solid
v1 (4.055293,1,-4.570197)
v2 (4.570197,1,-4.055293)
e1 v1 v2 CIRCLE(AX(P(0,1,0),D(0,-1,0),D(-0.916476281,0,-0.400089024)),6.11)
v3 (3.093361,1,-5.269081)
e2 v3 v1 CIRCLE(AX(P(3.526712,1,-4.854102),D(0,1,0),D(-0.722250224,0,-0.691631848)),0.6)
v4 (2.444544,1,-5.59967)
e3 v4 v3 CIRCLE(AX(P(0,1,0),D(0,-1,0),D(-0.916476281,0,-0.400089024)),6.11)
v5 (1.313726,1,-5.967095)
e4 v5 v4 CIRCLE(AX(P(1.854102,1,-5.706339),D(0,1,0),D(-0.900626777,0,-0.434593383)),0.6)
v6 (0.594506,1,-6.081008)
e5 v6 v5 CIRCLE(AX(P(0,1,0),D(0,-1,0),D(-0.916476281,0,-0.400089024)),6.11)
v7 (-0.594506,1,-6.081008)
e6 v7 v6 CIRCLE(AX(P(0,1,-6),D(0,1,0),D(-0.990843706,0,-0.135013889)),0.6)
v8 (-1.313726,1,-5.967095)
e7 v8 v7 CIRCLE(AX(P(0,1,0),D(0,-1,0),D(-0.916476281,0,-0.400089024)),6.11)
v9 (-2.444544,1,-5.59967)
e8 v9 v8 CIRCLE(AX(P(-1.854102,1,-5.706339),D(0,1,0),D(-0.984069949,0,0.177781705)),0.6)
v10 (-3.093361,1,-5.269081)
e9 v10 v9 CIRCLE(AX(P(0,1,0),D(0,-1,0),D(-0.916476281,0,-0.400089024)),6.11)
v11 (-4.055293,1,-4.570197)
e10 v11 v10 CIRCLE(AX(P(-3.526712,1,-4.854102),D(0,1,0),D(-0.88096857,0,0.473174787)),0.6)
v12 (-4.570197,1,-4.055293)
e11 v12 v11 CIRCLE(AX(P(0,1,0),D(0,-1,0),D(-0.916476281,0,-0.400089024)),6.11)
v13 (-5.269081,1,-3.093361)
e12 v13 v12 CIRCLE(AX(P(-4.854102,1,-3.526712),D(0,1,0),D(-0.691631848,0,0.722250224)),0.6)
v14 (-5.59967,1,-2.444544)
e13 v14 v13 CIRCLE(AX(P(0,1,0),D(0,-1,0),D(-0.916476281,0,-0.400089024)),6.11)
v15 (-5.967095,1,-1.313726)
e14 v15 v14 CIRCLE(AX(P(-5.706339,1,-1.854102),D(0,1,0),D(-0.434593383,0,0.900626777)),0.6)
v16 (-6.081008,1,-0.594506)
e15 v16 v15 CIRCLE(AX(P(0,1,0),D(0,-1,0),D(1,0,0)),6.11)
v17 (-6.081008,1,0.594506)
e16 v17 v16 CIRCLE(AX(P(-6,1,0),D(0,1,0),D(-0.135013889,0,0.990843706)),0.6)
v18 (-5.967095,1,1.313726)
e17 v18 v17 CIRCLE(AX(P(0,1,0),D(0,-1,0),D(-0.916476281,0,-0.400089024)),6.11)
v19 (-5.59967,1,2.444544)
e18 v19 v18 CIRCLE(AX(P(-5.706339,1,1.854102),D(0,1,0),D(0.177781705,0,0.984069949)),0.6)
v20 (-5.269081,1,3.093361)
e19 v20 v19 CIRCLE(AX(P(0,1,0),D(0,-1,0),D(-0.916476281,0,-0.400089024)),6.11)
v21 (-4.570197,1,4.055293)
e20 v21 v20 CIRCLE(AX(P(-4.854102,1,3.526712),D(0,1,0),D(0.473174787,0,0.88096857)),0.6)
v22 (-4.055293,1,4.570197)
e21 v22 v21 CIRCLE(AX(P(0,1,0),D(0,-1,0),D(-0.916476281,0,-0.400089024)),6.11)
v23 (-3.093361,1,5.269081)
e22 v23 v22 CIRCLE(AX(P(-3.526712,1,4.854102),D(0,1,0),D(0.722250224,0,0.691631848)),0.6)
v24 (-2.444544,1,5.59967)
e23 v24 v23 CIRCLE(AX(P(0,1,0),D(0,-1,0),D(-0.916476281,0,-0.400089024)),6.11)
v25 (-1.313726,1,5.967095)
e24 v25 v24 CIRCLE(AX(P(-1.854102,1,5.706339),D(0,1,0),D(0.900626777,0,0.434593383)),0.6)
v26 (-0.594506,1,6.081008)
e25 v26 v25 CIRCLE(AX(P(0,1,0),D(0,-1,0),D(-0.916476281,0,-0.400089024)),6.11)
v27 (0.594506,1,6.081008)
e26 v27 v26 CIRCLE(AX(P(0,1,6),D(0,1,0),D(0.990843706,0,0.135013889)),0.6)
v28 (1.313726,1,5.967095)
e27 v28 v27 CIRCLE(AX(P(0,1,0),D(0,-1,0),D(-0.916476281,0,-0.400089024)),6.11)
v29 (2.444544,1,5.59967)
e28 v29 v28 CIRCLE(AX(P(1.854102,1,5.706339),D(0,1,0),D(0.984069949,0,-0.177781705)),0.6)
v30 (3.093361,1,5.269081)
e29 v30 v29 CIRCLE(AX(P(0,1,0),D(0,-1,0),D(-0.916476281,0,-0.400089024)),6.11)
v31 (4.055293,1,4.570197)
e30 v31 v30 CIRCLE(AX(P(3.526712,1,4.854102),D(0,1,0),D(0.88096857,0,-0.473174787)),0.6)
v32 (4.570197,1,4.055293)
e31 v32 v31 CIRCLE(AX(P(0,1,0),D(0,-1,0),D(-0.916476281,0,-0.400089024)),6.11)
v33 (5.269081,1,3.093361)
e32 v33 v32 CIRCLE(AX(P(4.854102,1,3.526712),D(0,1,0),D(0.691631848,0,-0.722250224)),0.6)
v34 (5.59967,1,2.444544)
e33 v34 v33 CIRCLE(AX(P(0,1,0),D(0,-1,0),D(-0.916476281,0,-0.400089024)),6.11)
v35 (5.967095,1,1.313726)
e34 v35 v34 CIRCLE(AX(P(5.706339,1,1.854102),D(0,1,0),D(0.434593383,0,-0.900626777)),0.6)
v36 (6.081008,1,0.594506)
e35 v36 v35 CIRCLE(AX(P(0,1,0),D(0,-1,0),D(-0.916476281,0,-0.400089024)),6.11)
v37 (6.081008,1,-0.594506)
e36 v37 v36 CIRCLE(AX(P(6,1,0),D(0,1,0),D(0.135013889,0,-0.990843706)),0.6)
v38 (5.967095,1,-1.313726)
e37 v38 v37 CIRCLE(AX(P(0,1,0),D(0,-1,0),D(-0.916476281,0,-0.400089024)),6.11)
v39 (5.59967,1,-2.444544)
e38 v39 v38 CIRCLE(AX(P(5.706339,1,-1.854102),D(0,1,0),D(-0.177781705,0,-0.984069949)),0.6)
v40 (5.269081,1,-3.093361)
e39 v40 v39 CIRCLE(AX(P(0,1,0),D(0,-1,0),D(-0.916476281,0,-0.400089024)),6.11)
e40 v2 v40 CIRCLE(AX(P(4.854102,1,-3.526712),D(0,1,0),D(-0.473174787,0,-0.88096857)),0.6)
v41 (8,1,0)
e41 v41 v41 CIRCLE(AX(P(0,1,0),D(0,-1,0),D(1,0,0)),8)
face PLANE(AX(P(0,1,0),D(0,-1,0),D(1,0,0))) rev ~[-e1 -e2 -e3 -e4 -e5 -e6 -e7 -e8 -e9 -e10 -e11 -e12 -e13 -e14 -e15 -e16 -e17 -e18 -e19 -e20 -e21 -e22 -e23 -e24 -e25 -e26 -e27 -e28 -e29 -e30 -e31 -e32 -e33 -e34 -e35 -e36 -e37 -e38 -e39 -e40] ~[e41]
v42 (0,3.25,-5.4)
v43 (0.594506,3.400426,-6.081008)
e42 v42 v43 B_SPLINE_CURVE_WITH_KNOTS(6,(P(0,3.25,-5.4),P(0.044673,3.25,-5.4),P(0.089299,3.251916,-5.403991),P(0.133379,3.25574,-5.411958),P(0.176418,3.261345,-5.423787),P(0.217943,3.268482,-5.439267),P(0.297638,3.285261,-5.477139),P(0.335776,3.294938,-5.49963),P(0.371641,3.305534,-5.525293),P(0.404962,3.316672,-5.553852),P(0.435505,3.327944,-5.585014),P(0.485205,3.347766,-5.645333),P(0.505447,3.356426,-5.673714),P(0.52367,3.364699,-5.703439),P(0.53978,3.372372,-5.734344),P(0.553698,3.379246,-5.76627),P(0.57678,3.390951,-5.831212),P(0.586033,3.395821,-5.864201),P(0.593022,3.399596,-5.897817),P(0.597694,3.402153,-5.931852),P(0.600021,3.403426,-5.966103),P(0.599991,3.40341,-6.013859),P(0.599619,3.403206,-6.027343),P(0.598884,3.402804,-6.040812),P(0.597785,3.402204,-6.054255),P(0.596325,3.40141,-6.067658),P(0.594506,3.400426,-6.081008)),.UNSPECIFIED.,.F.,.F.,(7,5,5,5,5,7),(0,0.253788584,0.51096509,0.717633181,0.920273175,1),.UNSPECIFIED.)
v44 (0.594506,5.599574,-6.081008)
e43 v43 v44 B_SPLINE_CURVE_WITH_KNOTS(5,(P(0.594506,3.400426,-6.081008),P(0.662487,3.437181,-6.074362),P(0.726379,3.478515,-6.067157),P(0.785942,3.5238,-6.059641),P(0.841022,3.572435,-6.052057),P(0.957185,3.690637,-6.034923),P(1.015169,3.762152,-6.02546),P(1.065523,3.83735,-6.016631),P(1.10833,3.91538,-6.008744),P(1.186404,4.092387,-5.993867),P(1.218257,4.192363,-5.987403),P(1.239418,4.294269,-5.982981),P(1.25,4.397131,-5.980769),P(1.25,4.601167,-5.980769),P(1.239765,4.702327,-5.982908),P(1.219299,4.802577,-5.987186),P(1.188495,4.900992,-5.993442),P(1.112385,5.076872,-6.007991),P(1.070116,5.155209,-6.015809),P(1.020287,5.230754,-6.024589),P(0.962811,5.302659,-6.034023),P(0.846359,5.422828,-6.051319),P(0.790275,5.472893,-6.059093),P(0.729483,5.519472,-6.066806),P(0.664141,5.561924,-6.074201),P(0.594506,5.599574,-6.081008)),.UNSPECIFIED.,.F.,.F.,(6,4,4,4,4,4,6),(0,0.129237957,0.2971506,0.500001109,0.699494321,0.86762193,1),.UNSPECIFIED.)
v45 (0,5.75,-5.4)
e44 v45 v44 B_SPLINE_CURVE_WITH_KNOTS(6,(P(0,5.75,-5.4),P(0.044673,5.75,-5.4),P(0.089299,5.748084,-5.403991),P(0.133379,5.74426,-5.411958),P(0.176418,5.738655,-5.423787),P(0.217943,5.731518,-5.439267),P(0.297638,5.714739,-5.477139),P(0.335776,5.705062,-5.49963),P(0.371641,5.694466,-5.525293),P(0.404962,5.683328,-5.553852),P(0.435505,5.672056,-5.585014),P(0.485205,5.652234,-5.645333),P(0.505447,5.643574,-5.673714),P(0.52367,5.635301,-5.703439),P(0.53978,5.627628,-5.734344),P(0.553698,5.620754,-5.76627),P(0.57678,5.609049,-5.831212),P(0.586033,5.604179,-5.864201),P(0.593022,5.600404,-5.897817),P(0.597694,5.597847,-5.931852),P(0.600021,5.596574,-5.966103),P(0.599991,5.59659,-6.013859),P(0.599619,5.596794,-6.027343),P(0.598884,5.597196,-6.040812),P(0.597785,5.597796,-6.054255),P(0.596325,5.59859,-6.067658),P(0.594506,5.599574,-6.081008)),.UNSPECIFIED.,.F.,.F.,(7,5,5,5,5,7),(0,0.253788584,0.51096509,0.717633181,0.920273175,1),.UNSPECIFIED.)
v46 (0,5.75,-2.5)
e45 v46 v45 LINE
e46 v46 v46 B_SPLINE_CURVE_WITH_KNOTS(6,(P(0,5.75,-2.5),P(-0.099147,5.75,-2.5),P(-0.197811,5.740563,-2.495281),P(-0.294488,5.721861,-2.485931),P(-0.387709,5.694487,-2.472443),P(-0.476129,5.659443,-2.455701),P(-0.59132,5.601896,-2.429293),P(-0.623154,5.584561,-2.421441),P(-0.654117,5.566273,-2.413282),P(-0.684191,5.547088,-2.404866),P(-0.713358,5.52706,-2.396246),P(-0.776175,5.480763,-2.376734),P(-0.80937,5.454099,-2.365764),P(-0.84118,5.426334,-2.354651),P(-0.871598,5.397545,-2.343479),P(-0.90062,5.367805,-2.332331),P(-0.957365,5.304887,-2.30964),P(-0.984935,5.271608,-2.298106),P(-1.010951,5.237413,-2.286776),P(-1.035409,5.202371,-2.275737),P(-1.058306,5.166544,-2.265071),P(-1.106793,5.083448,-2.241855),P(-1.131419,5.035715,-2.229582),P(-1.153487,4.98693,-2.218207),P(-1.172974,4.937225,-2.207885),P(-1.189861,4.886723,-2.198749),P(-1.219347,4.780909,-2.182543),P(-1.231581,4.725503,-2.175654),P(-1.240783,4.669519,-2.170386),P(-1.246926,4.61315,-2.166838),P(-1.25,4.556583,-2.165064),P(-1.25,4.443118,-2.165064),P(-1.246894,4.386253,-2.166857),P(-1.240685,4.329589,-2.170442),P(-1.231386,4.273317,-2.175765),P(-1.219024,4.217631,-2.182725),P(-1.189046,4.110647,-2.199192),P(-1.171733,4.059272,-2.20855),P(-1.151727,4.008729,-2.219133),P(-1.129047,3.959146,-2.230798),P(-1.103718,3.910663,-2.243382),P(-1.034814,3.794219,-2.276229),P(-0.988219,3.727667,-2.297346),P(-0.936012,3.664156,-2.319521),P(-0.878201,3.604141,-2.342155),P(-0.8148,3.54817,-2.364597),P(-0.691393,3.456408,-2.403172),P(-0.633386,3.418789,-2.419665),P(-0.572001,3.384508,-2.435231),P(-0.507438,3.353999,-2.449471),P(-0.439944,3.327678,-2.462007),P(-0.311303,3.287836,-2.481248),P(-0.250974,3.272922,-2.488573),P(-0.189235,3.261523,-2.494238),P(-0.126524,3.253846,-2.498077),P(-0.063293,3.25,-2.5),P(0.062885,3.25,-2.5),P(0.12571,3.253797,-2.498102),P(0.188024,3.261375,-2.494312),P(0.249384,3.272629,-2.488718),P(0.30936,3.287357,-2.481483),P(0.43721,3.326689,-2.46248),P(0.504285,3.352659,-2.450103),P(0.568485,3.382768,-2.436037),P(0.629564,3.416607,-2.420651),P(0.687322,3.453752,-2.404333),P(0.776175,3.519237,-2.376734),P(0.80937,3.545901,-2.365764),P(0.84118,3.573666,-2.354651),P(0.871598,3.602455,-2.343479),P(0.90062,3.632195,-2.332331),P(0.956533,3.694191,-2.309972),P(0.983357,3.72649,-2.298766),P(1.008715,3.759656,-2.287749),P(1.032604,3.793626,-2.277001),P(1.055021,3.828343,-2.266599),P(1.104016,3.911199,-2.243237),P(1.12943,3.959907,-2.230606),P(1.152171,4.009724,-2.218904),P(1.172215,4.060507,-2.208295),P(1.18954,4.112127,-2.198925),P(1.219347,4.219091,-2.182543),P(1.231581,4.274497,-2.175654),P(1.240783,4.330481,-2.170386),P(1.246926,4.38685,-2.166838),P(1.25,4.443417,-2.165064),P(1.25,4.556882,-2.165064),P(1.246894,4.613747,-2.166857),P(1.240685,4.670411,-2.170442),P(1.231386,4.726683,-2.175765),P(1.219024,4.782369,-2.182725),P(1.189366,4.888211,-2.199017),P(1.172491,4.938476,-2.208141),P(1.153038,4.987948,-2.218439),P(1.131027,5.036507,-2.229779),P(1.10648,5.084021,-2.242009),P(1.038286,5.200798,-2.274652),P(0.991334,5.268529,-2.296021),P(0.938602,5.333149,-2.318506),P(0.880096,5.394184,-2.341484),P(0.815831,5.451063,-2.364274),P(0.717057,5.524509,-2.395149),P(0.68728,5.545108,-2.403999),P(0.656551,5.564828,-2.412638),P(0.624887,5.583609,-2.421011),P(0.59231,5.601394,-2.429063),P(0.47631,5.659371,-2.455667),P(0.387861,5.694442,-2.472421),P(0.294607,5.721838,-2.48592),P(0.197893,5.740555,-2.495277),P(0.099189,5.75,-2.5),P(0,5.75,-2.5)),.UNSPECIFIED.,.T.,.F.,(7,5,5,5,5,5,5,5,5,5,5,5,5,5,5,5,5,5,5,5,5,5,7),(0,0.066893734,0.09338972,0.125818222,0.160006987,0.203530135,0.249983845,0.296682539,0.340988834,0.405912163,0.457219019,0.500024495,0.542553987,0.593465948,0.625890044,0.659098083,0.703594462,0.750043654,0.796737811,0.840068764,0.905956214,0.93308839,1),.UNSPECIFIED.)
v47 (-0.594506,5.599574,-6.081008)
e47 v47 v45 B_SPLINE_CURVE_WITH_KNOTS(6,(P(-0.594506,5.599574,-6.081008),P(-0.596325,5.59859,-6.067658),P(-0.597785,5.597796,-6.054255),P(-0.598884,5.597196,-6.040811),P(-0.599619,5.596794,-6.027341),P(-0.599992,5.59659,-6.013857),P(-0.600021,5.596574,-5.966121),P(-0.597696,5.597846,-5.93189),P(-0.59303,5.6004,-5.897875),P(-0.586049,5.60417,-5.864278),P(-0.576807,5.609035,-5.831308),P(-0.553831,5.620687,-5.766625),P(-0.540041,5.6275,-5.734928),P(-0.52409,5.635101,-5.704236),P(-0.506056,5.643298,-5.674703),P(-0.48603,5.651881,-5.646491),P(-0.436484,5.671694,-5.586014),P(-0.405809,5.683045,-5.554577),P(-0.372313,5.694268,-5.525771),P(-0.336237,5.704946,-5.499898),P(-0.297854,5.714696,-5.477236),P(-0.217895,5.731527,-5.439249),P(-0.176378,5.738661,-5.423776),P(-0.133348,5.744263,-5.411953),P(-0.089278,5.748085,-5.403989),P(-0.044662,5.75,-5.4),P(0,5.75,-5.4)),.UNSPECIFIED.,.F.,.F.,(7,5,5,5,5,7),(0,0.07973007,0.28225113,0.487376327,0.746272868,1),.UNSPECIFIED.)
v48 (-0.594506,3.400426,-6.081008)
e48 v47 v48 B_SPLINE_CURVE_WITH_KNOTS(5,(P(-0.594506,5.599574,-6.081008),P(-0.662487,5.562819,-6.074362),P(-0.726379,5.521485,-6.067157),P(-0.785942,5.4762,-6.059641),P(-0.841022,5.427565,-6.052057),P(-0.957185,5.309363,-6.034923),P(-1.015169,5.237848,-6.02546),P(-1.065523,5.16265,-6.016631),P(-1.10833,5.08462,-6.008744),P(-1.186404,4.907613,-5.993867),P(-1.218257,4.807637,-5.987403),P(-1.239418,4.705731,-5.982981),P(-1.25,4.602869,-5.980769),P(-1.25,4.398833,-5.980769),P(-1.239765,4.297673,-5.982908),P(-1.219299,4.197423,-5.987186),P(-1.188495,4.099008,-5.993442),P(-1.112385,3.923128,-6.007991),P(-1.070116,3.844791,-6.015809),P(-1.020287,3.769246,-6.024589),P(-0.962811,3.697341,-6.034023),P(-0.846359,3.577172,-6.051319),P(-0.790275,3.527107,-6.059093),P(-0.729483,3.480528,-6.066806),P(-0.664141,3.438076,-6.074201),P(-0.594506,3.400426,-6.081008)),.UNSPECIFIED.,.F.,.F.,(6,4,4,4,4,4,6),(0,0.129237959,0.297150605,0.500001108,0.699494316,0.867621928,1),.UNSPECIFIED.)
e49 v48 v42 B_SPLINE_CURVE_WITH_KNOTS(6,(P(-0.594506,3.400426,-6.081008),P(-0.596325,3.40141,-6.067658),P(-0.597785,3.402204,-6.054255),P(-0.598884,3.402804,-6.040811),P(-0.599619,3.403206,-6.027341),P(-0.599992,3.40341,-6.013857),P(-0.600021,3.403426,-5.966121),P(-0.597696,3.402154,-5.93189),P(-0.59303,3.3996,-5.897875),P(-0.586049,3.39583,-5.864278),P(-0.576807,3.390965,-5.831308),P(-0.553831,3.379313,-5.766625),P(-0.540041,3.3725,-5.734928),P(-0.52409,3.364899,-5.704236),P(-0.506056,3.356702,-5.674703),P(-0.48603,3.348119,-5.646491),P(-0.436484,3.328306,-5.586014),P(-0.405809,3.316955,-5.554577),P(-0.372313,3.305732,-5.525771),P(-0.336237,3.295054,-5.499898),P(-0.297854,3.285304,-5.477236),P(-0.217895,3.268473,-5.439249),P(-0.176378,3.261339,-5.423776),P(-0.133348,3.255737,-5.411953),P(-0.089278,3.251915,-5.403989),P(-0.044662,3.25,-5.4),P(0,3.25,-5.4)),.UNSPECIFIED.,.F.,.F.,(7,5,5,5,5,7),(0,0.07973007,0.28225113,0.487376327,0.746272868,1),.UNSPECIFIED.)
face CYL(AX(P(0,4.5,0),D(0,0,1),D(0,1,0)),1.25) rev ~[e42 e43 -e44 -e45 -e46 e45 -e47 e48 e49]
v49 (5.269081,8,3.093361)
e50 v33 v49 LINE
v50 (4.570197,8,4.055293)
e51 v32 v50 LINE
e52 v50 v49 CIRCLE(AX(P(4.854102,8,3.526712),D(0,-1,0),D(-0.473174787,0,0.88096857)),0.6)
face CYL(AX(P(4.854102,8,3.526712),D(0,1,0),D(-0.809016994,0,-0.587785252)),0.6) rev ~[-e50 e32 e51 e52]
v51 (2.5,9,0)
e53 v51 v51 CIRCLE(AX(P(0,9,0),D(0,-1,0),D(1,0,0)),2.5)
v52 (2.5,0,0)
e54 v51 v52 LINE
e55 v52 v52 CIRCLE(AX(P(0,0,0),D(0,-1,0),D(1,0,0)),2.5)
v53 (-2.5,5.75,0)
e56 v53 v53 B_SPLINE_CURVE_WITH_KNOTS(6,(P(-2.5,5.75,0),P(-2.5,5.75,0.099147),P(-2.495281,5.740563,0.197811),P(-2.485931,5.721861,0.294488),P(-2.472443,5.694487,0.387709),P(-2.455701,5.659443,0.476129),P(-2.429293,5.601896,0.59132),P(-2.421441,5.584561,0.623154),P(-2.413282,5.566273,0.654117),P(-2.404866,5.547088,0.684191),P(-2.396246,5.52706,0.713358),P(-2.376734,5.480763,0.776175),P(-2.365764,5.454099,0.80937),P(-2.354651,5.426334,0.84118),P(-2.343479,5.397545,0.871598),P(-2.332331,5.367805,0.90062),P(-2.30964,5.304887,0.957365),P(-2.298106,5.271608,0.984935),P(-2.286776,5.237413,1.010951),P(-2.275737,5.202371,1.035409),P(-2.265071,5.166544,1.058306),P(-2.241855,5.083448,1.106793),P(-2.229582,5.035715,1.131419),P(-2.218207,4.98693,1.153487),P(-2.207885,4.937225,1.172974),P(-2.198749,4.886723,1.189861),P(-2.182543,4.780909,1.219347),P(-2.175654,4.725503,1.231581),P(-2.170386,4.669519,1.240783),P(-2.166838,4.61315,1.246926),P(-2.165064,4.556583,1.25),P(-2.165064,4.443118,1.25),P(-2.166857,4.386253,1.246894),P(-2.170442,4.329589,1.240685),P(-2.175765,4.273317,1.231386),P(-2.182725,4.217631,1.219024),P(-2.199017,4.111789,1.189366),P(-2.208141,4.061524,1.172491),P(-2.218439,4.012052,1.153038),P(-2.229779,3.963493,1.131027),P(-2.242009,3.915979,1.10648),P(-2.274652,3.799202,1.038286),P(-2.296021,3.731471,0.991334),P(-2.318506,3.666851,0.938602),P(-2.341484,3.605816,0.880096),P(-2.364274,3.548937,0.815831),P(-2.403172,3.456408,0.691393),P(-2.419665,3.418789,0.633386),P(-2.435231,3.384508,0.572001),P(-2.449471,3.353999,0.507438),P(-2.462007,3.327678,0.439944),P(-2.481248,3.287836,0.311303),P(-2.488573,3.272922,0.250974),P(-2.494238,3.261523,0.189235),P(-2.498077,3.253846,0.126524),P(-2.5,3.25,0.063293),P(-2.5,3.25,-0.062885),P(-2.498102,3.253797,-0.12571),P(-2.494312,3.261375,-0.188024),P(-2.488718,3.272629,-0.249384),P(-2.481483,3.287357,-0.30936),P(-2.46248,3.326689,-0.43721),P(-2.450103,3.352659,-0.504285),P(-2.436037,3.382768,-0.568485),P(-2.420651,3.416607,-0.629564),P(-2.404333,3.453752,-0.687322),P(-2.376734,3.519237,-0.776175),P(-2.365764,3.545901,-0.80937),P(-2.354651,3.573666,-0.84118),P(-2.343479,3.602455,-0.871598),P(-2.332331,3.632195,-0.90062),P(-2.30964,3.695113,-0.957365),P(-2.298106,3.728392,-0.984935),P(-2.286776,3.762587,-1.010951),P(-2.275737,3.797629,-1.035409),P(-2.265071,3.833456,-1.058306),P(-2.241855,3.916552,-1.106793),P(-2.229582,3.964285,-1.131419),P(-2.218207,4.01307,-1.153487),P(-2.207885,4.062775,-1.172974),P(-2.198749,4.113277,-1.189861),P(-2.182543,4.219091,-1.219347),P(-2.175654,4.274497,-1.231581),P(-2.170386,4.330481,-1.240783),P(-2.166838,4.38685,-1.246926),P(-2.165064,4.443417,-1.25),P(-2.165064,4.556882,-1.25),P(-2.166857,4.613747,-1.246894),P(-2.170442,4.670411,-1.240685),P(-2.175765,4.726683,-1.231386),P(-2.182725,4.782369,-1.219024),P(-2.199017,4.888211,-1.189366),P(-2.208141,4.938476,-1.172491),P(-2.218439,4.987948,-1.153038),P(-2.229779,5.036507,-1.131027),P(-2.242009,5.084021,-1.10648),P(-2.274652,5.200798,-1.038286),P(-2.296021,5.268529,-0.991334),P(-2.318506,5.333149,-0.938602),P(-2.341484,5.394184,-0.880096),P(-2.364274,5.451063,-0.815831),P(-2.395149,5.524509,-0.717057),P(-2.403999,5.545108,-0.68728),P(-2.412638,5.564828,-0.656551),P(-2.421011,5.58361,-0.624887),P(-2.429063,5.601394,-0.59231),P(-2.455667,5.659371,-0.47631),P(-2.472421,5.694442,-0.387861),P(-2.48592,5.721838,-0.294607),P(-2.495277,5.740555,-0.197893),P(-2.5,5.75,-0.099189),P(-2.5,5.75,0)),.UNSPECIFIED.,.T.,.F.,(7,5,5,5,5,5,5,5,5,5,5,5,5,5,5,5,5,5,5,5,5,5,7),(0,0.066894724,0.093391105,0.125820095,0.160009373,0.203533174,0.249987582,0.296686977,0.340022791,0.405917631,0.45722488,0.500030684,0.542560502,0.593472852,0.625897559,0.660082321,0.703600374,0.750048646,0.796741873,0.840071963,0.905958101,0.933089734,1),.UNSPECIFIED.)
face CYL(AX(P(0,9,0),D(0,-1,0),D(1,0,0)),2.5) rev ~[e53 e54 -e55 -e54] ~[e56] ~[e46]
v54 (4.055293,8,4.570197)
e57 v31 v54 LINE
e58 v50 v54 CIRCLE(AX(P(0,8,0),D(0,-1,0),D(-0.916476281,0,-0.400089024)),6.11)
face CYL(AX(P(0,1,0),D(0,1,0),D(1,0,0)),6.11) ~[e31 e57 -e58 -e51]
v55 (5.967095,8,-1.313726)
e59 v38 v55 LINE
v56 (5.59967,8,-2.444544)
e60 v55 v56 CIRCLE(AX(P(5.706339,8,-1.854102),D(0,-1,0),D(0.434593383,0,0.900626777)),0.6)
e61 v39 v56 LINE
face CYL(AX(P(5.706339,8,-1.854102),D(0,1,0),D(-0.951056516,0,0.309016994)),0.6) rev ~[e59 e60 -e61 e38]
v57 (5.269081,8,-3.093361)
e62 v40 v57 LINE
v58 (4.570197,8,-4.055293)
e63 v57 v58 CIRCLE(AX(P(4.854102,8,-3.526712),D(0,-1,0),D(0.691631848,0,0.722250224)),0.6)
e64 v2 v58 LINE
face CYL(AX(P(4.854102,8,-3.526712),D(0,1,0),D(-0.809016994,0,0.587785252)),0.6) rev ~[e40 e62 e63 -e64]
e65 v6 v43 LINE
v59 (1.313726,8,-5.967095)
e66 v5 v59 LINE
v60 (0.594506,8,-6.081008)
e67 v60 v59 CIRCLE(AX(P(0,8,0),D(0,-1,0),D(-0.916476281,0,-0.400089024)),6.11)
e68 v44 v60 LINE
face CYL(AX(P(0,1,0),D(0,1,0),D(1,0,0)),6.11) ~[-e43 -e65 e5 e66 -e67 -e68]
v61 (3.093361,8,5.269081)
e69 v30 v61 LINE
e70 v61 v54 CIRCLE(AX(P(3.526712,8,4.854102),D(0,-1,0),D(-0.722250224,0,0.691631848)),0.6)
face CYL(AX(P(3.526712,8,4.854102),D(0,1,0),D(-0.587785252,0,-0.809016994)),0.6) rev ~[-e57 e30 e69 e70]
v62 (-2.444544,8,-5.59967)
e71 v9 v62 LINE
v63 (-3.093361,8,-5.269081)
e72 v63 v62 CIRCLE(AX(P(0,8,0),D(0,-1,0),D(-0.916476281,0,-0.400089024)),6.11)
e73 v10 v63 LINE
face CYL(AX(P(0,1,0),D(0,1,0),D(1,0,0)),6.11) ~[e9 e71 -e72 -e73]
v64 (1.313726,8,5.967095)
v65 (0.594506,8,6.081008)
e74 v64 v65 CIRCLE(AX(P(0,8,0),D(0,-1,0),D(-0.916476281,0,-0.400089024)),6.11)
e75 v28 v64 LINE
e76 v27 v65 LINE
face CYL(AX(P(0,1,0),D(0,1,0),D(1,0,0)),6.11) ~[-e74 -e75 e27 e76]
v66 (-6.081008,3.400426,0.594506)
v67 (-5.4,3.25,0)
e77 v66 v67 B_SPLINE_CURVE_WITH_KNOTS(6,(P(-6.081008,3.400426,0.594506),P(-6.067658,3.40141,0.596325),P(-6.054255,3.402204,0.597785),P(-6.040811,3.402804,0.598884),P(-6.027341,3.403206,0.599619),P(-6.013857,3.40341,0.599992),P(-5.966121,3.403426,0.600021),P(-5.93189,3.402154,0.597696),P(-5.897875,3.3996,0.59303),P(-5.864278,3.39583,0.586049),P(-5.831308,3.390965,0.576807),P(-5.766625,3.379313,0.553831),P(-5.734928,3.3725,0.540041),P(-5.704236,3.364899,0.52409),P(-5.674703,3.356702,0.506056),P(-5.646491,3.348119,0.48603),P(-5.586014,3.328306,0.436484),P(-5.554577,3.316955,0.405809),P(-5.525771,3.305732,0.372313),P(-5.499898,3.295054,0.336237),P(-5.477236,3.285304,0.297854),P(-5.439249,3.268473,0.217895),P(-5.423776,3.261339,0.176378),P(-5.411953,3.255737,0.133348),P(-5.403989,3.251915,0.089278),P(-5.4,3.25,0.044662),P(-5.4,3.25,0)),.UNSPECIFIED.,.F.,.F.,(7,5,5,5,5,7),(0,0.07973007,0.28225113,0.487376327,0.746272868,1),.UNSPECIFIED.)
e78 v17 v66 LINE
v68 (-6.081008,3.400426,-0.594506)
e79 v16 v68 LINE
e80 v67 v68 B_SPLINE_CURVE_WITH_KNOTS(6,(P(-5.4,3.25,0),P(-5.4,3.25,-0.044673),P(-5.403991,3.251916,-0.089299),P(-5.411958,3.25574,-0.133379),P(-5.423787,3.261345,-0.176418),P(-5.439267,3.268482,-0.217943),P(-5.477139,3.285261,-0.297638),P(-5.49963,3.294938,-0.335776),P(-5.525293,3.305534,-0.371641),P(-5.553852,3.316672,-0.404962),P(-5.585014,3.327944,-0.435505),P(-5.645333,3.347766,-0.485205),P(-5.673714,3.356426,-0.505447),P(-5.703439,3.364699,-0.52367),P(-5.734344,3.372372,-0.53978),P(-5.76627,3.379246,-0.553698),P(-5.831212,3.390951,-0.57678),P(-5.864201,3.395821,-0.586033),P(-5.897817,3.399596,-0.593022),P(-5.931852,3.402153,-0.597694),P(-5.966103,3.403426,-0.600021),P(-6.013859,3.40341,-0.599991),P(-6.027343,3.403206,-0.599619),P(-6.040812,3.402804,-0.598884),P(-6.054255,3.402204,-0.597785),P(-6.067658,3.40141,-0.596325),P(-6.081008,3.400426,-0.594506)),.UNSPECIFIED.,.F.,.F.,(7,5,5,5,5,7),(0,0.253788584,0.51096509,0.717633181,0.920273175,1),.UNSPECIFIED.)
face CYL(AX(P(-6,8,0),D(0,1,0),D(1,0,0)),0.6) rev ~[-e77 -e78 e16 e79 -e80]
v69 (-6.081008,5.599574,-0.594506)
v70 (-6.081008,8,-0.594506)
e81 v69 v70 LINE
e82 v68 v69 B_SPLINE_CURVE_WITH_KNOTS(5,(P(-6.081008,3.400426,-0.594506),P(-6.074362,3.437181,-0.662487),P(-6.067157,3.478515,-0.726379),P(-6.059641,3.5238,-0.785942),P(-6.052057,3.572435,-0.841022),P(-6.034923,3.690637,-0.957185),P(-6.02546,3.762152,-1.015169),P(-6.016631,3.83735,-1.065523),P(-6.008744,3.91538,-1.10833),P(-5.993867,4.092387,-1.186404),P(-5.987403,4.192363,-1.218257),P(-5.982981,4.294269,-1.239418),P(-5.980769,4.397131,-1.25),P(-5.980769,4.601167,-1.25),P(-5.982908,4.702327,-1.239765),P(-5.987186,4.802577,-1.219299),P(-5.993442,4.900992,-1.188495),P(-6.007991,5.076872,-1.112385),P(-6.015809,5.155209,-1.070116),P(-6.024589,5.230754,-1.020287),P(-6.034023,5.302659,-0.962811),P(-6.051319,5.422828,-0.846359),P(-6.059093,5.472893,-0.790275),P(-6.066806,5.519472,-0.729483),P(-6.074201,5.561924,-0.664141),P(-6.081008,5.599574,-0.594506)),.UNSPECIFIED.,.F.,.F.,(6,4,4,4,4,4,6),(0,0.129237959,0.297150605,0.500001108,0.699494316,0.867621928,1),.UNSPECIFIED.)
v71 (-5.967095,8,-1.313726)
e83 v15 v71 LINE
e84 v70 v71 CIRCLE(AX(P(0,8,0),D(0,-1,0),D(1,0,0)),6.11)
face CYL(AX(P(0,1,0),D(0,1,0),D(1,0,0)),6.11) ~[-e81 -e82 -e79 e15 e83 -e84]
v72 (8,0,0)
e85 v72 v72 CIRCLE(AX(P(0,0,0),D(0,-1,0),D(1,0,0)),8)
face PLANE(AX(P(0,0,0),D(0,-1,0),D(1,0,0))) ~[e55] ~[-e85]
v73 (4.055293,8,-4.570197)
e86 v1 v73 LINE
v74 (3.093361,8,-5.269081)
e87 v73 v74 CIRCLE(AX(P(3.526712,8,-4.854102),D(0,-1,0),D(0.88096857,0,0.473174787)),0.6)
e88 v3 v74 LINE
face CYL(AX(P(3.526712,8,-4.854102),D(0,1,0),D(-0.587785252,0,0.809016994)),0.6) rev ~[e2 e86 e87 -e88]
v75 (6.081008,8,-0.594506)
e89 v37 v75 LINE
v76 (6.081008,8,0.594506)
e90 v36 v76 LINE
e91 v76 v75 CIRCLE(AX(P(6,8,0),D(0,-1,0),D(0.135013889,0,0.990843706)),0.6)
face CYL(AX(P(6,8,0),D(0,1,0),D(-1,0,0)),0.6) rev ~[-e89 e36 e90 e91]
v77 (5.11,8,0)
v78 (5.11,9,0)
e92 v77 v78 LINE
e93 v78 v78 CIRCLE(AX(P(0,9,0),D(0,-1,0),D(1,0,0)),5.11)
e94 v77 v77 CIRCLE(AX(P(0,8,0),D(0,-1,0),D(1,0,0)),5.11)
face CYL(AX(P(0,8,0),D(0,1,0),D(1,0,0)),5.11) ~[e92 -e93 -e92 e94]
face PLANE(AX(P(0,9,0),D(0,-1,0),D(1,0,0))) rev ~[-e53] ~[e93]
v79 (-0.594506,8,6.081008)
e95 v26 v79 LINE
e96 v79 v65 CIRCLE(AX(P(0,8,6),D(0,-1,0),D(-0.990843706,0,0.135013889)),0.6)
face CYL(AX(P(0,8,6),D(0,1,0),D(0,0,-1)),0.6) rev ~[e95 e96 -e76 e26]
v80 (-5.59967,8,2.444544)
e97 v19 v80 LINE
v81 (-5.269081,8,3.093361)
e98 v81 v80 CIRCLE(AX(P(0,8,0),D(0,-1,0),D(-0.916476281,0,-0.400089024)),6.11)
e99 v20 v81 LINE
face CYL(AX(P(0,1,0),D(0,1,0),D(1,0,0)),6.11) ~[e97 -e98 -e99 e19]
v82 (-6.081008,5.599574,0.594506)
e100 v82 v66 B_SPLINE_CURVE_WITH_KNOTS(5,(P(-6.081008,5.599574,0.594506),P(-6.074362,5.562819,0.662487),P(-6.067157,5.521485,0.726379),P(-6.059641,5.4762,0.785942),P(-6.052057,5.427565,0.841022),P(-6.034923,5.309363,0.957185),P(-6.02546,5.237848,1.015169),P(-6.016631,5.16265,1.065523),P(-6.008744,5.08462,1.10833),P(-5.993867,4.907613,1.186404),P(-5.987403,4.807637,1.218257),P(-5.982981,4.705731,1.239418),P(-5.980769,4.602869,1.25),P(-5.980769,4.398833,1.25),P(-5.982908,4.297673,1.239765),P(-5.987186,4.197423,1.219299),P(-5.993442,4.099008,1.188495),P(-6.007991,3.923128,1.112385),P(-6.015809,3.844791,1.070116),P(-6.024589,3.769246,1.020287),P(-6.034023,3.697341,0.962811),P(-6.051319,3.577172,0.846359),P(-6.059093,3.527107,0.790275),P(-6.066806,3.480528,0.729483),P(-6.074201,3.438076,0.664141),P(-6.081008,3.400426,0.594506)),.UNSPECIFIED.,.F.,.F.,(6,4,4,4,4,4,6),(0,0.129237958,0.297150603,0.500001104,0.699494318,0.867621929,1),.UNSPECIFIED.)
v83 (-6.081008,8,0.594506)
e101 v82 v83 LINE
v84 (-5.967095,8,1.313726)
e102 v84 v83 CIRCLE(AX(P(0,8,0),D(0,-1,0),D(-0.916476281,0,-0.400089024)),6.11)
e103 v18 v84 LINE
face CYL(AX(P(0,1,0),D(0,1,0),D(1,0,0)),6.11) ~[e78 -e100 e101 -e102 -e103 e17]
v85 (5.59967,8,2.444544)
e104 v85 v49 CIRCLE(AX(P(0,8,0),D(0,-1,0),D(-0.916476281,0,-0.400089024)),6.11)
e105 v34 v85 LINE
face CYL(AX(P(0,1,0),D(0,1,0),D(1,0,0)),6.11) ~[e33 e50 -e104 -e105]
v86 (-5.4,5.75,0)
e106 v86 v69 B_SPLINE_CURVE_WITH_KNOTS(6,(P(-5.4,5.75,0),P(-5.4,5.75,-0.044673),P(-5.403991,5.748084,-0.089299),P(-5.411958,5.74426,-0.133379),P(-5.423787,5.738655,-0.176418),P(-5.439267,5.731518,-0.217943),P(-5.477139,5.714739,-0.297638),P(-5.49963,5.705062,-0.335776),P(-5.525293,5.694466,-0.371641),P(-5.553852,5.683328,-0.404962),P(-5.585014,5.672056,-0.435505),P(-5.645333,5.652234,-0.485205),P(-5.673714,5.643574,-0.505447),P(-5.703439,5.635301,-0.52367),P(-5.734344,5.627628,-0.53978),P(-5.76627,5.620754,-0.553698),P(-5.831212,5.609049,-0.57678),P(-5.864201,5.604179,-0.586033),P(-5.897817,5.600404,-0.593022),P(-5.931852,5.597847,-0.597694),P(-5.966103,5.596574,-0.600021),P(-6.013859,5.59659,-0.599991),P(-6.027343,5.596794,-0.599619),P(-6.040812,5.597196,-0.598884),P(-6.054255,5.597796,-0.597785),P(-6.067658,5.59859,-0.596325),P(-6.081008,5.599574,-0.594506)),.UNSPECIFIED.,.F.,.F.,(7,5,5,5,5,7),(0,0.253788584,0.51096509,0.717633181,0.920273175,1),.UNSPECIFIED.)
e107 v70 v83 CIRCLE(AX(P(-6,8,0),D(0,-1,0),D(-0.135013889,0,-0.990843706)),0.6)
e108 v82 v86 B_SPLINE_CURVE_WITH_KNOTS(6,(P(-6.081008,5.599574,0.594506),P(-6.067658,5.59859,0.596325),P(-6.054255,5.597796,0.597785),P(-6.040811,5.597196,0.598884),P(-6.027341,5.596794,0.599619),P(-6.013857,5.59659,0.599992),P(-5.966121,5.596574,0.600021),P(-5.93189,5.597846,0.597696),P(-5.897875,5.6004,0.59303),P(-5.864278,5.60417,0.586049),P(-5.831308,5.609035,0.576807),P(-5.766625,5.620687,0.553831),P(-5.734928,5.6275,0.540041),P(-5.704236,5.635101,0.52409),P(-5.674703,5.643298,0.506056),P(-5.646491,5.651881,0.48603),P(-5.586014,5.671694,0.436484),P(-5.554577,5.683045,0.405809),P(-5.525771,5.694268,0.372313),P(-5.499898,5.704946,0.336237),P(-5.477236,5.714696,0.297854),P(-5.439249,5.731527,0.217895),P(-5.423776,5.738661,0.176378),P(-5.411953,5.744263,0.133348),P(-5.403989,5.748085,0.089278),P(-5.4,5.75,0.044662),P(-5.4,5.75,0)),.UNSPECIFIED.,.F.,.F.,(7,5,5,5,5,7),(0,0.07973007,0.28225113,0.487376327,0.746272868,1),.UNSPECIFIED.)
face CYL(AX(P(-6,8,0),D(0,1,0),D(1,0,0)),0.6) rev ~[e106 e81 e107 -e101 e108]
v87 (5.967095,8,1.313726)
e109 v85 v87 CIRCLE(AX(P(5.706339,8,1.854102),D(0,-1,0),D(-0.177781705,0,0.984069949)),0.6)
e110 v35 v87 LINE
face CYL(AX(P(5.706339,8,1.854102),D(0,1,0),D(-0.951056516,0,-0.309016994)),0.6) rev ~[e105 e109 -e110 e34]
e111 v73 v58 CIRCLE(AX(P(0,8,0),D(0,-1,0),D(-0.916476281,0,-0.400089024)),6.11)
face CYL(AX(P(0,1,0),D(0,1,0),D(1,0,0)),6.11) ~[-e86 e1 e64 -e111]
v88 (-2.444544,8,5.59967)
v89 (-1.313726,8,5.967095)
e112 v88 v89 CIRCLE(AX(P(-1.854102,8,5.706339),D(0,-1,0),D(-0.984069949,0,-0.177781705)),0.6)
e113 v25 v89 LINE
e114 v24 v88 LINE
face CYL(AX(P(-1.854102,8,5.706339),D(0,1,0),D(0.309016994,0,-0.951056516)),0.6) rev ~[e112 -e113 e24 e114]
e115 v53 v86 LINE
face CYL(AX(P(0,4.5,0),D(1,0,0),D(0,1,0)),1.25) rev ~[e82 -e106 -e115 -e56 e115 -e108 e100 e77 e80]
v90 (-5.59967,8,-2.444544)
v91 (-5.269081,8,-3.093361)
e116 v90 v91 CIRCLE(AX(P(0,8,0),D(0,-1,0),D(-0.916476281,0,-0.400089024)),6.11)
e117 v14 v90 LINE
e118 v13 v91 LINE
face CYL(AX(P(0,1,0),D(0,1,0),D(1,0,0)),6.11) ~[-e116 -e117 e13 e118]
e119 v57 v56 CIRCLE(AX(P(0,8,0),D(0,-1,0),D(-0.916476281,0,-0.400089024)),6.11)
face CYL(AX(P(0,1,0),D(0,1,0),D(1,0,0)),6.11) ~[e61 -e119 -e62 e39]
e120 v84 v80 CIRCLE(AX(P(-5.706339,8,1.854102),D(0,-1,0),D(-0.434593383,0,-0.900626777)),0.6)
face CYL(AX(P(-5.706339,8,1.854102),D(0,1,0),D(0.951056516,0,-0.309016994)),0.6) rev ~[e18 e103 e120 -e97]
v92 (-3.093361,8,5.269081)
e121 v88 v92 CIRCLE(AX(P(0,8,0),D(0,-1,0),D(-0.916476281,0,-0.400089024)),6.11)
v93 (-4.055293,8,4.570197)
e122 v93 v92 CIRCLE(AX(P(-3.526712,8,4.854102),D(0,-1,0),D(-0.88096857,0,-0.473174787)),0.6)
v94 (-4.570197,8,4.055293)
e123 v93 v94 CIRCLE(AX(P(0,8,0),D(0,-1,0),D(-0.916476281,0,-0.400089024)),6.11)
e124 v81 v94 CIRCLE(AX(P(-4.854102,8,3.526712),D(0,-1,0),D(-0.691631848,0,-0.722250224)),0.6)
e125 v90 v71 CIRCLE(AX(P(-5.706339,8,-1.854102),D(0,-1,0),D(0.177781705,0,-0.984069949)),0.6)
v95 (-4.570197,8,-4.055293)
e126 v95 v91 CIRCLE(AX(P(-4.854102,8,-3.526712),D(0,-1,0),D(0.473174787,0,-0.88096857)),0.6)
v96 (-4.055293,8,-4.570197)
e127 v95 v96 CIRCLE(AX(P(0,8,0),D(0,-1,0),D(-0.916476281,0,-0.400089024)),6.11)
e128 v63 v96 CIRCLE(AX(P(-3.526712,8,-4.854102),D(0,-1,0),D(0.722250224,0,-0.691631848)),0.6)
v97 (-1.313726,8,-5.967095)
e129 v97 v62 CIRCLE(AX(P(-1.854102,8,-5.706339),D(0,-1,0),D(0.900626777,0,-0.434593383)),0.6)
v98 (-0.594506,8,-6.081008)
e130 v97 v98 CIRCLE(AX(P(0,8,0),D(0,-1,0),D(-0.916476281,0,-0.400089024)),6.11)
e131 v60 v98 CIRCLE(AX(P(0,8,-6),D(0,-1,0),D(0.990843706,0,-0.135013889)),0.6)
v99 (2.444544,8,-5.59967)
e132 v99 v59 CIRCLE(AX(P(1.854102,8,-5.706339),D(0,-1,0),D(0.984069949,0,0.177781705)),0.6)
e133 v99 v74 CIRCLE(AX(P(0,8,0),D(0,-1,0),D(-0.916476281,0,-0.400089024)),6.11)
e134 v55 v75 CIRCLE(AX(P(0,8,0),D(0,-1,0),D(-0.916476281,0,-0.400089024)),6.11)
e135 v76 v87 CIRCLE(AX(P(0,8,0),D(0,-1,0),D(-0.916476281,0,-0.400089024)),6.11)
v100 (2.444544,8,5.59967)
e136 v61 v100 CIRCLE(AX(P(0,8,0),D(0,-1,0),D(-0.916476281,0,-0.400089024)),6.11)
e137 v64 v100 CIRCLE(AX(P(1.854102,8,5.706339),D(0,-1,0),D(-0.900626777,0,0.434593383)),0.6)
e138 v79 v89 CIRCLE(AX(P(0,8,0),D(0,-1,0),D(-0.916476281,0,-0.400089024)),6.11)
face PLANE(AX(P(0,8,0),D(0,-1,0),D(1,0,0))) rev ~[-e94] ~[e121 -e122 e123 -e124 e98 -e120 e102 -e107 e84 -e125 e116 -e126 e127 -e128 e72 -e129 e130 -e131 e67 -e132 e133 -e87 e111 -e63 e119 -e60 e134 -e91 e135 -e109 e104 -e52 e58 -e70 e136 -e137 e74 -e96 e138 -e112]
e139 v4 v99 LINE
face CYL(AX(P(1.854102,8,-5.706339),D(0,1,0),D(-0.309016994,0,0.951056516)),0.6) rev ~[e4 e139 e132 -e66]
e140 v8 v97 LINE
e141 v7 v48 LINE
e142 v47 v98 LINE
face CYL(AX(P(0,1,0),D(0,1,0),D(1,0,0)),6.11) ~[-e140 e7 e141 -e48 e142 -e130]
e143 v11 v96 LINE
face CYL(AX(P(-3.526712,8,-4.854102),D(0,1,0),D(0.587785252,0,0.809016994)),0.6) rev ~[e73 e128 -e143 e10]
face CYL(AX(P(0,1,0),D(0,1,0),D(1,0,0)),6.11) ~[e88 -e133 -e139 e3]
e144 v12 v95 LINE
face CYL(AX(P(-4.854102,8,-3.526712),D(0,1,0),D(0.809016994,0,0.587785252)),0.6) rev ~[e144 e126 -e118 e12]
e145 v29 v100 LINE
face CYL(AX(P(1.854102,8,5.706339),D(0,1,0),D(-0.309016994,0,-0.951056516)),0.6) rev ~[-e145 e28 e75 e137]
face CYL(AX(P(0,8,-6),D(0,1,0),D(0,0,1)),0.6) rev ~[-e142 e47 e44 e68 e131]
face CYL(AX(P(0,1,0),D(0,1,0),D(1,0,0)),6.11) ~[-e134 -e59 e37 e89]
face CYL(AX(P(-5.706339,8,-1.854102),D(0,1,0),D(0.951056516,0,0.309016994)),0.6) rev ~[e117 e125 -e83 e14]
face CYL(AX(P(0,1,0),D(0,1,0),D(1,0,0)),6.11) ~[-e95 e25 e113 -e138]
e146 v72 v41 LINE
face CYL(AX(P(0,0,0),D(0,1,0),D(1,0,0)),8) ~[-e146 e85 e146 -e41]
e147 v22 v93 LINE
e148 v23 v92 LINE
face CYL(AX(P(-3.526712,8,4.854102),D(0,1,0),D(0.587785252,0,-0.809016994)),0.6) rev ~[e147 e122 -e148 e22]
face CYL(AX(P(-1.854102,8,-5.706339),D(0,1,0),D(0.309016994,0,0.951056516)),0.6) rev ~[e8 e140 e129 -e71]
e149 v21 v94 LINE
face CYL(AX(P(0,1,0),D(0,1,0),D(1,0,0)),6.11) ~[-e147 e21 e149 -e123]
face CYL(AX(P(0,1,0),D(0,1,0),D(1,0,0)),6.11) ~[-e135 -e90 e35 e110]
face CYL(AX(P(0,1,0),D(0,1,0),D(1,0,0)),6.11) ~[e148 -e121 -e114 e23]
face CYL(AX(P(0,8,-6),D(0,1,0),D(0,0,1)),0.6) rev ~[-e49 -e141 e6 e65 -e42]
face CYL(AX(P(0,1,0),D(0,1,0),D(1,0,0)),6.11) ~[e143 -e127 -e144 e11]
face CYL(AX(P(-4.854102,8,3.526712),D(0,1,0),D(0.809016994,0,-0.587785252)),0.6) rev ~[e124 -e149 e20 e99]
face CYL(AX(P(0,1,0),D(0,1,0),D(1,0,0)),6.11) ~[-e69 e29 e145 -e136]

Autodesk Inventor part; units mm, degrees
ref_plane "YZ Plane" through (0, 0, 0) normal (1, 0, 0) x (0, 1, 0)
ref_plane "XZ Plane" through (0, 0, 0) normal (0, 1, 0) x (-1, 0, 0)
ref_plane "XY Plane" through (0, 0, 0) normal (0, 0, 1) x (1, 0, 0)
sketch "Sketch1" plane through (0, 0, 0) normal (0, 0, 1) x (1, 0, 0)
  line L0 (0, 0) -> (2.5, 0) construction
  line L1 (8, 0) -> (8, 1)
  line L2 (8, 1) -> (6.11, 1)
  line L3 (6.11, 1) -> (6.11, 8)
  line L4 (6.11, 8) -> (5.11, 8)
  line L5 (5.11, 8) -> (5.11, 9)
  line L6 (5.11, 9) -> (2.5, 9)
  line L7 (0, 9) -> (0, 0) construction
  line L8 (2.5, 9) -> (2.5, 0)
  line L9 (2.5, 9) -> (0, 9) construction
  line L10 (2.5, 0) -> (8, 0)
  dimension "d0" = 7
  dimension "d1" = 1
  dimension "d2" = 8
  dimension "d3" = 6.11
  dimension "d5" = 1
  dimension "d6" = 1
  dimension "d15" = 2.5
revolve "Revolution1" add sketch "Sketch1" angle 360 about axis through (0, 9, 0) along (0, -1, 0)
sketch "Sketch2" plane through (0, 8, 0) normal (0, 1, 0) x (1, 0, 0)
  circle A0 centre (0, 0) radius 5.11 construction
  line L0 (0, 0) -> (-6, 0) construction
  circle A1 centre (-6, 0) radius 0.6
  point P0 (0, 0)
  dimension "d8" = 1.2
  dimension "d9" = 6
extrude "Extrusion1" cut sketch "Sketch2" against normal up to surface (7 mm away)
pattern_circular "Circular Pattern1" count 20 over 360 about axis through (0, 8.5, 0) along (0, -1, 0) of "Extrusion1"
sketch "Sketch3" plane through (0, 0, 0) normal (1, 0, 0) x (0, 1, 0)
  line L0 (1, 8) -> (1, -8) construction
  line L1 (8, 0) -> (1, 0) construction
  circle A0 centre (4.5, 0) radius 1.25
  line L2 (8, 5.11) -> (8, -5.11) construction
  dimension "d16" = 2.5
extrude "Extrusion2" cut sketch "Sketch3" against normal blind 10
pattern_circular "Circular Pattern2" count 2 over 90 about axis through (0, 4.5, 0) along (0, -1, 0) of "Extrusion2"
properties part number "GT2Pulley_20T_5mm_noTop"
